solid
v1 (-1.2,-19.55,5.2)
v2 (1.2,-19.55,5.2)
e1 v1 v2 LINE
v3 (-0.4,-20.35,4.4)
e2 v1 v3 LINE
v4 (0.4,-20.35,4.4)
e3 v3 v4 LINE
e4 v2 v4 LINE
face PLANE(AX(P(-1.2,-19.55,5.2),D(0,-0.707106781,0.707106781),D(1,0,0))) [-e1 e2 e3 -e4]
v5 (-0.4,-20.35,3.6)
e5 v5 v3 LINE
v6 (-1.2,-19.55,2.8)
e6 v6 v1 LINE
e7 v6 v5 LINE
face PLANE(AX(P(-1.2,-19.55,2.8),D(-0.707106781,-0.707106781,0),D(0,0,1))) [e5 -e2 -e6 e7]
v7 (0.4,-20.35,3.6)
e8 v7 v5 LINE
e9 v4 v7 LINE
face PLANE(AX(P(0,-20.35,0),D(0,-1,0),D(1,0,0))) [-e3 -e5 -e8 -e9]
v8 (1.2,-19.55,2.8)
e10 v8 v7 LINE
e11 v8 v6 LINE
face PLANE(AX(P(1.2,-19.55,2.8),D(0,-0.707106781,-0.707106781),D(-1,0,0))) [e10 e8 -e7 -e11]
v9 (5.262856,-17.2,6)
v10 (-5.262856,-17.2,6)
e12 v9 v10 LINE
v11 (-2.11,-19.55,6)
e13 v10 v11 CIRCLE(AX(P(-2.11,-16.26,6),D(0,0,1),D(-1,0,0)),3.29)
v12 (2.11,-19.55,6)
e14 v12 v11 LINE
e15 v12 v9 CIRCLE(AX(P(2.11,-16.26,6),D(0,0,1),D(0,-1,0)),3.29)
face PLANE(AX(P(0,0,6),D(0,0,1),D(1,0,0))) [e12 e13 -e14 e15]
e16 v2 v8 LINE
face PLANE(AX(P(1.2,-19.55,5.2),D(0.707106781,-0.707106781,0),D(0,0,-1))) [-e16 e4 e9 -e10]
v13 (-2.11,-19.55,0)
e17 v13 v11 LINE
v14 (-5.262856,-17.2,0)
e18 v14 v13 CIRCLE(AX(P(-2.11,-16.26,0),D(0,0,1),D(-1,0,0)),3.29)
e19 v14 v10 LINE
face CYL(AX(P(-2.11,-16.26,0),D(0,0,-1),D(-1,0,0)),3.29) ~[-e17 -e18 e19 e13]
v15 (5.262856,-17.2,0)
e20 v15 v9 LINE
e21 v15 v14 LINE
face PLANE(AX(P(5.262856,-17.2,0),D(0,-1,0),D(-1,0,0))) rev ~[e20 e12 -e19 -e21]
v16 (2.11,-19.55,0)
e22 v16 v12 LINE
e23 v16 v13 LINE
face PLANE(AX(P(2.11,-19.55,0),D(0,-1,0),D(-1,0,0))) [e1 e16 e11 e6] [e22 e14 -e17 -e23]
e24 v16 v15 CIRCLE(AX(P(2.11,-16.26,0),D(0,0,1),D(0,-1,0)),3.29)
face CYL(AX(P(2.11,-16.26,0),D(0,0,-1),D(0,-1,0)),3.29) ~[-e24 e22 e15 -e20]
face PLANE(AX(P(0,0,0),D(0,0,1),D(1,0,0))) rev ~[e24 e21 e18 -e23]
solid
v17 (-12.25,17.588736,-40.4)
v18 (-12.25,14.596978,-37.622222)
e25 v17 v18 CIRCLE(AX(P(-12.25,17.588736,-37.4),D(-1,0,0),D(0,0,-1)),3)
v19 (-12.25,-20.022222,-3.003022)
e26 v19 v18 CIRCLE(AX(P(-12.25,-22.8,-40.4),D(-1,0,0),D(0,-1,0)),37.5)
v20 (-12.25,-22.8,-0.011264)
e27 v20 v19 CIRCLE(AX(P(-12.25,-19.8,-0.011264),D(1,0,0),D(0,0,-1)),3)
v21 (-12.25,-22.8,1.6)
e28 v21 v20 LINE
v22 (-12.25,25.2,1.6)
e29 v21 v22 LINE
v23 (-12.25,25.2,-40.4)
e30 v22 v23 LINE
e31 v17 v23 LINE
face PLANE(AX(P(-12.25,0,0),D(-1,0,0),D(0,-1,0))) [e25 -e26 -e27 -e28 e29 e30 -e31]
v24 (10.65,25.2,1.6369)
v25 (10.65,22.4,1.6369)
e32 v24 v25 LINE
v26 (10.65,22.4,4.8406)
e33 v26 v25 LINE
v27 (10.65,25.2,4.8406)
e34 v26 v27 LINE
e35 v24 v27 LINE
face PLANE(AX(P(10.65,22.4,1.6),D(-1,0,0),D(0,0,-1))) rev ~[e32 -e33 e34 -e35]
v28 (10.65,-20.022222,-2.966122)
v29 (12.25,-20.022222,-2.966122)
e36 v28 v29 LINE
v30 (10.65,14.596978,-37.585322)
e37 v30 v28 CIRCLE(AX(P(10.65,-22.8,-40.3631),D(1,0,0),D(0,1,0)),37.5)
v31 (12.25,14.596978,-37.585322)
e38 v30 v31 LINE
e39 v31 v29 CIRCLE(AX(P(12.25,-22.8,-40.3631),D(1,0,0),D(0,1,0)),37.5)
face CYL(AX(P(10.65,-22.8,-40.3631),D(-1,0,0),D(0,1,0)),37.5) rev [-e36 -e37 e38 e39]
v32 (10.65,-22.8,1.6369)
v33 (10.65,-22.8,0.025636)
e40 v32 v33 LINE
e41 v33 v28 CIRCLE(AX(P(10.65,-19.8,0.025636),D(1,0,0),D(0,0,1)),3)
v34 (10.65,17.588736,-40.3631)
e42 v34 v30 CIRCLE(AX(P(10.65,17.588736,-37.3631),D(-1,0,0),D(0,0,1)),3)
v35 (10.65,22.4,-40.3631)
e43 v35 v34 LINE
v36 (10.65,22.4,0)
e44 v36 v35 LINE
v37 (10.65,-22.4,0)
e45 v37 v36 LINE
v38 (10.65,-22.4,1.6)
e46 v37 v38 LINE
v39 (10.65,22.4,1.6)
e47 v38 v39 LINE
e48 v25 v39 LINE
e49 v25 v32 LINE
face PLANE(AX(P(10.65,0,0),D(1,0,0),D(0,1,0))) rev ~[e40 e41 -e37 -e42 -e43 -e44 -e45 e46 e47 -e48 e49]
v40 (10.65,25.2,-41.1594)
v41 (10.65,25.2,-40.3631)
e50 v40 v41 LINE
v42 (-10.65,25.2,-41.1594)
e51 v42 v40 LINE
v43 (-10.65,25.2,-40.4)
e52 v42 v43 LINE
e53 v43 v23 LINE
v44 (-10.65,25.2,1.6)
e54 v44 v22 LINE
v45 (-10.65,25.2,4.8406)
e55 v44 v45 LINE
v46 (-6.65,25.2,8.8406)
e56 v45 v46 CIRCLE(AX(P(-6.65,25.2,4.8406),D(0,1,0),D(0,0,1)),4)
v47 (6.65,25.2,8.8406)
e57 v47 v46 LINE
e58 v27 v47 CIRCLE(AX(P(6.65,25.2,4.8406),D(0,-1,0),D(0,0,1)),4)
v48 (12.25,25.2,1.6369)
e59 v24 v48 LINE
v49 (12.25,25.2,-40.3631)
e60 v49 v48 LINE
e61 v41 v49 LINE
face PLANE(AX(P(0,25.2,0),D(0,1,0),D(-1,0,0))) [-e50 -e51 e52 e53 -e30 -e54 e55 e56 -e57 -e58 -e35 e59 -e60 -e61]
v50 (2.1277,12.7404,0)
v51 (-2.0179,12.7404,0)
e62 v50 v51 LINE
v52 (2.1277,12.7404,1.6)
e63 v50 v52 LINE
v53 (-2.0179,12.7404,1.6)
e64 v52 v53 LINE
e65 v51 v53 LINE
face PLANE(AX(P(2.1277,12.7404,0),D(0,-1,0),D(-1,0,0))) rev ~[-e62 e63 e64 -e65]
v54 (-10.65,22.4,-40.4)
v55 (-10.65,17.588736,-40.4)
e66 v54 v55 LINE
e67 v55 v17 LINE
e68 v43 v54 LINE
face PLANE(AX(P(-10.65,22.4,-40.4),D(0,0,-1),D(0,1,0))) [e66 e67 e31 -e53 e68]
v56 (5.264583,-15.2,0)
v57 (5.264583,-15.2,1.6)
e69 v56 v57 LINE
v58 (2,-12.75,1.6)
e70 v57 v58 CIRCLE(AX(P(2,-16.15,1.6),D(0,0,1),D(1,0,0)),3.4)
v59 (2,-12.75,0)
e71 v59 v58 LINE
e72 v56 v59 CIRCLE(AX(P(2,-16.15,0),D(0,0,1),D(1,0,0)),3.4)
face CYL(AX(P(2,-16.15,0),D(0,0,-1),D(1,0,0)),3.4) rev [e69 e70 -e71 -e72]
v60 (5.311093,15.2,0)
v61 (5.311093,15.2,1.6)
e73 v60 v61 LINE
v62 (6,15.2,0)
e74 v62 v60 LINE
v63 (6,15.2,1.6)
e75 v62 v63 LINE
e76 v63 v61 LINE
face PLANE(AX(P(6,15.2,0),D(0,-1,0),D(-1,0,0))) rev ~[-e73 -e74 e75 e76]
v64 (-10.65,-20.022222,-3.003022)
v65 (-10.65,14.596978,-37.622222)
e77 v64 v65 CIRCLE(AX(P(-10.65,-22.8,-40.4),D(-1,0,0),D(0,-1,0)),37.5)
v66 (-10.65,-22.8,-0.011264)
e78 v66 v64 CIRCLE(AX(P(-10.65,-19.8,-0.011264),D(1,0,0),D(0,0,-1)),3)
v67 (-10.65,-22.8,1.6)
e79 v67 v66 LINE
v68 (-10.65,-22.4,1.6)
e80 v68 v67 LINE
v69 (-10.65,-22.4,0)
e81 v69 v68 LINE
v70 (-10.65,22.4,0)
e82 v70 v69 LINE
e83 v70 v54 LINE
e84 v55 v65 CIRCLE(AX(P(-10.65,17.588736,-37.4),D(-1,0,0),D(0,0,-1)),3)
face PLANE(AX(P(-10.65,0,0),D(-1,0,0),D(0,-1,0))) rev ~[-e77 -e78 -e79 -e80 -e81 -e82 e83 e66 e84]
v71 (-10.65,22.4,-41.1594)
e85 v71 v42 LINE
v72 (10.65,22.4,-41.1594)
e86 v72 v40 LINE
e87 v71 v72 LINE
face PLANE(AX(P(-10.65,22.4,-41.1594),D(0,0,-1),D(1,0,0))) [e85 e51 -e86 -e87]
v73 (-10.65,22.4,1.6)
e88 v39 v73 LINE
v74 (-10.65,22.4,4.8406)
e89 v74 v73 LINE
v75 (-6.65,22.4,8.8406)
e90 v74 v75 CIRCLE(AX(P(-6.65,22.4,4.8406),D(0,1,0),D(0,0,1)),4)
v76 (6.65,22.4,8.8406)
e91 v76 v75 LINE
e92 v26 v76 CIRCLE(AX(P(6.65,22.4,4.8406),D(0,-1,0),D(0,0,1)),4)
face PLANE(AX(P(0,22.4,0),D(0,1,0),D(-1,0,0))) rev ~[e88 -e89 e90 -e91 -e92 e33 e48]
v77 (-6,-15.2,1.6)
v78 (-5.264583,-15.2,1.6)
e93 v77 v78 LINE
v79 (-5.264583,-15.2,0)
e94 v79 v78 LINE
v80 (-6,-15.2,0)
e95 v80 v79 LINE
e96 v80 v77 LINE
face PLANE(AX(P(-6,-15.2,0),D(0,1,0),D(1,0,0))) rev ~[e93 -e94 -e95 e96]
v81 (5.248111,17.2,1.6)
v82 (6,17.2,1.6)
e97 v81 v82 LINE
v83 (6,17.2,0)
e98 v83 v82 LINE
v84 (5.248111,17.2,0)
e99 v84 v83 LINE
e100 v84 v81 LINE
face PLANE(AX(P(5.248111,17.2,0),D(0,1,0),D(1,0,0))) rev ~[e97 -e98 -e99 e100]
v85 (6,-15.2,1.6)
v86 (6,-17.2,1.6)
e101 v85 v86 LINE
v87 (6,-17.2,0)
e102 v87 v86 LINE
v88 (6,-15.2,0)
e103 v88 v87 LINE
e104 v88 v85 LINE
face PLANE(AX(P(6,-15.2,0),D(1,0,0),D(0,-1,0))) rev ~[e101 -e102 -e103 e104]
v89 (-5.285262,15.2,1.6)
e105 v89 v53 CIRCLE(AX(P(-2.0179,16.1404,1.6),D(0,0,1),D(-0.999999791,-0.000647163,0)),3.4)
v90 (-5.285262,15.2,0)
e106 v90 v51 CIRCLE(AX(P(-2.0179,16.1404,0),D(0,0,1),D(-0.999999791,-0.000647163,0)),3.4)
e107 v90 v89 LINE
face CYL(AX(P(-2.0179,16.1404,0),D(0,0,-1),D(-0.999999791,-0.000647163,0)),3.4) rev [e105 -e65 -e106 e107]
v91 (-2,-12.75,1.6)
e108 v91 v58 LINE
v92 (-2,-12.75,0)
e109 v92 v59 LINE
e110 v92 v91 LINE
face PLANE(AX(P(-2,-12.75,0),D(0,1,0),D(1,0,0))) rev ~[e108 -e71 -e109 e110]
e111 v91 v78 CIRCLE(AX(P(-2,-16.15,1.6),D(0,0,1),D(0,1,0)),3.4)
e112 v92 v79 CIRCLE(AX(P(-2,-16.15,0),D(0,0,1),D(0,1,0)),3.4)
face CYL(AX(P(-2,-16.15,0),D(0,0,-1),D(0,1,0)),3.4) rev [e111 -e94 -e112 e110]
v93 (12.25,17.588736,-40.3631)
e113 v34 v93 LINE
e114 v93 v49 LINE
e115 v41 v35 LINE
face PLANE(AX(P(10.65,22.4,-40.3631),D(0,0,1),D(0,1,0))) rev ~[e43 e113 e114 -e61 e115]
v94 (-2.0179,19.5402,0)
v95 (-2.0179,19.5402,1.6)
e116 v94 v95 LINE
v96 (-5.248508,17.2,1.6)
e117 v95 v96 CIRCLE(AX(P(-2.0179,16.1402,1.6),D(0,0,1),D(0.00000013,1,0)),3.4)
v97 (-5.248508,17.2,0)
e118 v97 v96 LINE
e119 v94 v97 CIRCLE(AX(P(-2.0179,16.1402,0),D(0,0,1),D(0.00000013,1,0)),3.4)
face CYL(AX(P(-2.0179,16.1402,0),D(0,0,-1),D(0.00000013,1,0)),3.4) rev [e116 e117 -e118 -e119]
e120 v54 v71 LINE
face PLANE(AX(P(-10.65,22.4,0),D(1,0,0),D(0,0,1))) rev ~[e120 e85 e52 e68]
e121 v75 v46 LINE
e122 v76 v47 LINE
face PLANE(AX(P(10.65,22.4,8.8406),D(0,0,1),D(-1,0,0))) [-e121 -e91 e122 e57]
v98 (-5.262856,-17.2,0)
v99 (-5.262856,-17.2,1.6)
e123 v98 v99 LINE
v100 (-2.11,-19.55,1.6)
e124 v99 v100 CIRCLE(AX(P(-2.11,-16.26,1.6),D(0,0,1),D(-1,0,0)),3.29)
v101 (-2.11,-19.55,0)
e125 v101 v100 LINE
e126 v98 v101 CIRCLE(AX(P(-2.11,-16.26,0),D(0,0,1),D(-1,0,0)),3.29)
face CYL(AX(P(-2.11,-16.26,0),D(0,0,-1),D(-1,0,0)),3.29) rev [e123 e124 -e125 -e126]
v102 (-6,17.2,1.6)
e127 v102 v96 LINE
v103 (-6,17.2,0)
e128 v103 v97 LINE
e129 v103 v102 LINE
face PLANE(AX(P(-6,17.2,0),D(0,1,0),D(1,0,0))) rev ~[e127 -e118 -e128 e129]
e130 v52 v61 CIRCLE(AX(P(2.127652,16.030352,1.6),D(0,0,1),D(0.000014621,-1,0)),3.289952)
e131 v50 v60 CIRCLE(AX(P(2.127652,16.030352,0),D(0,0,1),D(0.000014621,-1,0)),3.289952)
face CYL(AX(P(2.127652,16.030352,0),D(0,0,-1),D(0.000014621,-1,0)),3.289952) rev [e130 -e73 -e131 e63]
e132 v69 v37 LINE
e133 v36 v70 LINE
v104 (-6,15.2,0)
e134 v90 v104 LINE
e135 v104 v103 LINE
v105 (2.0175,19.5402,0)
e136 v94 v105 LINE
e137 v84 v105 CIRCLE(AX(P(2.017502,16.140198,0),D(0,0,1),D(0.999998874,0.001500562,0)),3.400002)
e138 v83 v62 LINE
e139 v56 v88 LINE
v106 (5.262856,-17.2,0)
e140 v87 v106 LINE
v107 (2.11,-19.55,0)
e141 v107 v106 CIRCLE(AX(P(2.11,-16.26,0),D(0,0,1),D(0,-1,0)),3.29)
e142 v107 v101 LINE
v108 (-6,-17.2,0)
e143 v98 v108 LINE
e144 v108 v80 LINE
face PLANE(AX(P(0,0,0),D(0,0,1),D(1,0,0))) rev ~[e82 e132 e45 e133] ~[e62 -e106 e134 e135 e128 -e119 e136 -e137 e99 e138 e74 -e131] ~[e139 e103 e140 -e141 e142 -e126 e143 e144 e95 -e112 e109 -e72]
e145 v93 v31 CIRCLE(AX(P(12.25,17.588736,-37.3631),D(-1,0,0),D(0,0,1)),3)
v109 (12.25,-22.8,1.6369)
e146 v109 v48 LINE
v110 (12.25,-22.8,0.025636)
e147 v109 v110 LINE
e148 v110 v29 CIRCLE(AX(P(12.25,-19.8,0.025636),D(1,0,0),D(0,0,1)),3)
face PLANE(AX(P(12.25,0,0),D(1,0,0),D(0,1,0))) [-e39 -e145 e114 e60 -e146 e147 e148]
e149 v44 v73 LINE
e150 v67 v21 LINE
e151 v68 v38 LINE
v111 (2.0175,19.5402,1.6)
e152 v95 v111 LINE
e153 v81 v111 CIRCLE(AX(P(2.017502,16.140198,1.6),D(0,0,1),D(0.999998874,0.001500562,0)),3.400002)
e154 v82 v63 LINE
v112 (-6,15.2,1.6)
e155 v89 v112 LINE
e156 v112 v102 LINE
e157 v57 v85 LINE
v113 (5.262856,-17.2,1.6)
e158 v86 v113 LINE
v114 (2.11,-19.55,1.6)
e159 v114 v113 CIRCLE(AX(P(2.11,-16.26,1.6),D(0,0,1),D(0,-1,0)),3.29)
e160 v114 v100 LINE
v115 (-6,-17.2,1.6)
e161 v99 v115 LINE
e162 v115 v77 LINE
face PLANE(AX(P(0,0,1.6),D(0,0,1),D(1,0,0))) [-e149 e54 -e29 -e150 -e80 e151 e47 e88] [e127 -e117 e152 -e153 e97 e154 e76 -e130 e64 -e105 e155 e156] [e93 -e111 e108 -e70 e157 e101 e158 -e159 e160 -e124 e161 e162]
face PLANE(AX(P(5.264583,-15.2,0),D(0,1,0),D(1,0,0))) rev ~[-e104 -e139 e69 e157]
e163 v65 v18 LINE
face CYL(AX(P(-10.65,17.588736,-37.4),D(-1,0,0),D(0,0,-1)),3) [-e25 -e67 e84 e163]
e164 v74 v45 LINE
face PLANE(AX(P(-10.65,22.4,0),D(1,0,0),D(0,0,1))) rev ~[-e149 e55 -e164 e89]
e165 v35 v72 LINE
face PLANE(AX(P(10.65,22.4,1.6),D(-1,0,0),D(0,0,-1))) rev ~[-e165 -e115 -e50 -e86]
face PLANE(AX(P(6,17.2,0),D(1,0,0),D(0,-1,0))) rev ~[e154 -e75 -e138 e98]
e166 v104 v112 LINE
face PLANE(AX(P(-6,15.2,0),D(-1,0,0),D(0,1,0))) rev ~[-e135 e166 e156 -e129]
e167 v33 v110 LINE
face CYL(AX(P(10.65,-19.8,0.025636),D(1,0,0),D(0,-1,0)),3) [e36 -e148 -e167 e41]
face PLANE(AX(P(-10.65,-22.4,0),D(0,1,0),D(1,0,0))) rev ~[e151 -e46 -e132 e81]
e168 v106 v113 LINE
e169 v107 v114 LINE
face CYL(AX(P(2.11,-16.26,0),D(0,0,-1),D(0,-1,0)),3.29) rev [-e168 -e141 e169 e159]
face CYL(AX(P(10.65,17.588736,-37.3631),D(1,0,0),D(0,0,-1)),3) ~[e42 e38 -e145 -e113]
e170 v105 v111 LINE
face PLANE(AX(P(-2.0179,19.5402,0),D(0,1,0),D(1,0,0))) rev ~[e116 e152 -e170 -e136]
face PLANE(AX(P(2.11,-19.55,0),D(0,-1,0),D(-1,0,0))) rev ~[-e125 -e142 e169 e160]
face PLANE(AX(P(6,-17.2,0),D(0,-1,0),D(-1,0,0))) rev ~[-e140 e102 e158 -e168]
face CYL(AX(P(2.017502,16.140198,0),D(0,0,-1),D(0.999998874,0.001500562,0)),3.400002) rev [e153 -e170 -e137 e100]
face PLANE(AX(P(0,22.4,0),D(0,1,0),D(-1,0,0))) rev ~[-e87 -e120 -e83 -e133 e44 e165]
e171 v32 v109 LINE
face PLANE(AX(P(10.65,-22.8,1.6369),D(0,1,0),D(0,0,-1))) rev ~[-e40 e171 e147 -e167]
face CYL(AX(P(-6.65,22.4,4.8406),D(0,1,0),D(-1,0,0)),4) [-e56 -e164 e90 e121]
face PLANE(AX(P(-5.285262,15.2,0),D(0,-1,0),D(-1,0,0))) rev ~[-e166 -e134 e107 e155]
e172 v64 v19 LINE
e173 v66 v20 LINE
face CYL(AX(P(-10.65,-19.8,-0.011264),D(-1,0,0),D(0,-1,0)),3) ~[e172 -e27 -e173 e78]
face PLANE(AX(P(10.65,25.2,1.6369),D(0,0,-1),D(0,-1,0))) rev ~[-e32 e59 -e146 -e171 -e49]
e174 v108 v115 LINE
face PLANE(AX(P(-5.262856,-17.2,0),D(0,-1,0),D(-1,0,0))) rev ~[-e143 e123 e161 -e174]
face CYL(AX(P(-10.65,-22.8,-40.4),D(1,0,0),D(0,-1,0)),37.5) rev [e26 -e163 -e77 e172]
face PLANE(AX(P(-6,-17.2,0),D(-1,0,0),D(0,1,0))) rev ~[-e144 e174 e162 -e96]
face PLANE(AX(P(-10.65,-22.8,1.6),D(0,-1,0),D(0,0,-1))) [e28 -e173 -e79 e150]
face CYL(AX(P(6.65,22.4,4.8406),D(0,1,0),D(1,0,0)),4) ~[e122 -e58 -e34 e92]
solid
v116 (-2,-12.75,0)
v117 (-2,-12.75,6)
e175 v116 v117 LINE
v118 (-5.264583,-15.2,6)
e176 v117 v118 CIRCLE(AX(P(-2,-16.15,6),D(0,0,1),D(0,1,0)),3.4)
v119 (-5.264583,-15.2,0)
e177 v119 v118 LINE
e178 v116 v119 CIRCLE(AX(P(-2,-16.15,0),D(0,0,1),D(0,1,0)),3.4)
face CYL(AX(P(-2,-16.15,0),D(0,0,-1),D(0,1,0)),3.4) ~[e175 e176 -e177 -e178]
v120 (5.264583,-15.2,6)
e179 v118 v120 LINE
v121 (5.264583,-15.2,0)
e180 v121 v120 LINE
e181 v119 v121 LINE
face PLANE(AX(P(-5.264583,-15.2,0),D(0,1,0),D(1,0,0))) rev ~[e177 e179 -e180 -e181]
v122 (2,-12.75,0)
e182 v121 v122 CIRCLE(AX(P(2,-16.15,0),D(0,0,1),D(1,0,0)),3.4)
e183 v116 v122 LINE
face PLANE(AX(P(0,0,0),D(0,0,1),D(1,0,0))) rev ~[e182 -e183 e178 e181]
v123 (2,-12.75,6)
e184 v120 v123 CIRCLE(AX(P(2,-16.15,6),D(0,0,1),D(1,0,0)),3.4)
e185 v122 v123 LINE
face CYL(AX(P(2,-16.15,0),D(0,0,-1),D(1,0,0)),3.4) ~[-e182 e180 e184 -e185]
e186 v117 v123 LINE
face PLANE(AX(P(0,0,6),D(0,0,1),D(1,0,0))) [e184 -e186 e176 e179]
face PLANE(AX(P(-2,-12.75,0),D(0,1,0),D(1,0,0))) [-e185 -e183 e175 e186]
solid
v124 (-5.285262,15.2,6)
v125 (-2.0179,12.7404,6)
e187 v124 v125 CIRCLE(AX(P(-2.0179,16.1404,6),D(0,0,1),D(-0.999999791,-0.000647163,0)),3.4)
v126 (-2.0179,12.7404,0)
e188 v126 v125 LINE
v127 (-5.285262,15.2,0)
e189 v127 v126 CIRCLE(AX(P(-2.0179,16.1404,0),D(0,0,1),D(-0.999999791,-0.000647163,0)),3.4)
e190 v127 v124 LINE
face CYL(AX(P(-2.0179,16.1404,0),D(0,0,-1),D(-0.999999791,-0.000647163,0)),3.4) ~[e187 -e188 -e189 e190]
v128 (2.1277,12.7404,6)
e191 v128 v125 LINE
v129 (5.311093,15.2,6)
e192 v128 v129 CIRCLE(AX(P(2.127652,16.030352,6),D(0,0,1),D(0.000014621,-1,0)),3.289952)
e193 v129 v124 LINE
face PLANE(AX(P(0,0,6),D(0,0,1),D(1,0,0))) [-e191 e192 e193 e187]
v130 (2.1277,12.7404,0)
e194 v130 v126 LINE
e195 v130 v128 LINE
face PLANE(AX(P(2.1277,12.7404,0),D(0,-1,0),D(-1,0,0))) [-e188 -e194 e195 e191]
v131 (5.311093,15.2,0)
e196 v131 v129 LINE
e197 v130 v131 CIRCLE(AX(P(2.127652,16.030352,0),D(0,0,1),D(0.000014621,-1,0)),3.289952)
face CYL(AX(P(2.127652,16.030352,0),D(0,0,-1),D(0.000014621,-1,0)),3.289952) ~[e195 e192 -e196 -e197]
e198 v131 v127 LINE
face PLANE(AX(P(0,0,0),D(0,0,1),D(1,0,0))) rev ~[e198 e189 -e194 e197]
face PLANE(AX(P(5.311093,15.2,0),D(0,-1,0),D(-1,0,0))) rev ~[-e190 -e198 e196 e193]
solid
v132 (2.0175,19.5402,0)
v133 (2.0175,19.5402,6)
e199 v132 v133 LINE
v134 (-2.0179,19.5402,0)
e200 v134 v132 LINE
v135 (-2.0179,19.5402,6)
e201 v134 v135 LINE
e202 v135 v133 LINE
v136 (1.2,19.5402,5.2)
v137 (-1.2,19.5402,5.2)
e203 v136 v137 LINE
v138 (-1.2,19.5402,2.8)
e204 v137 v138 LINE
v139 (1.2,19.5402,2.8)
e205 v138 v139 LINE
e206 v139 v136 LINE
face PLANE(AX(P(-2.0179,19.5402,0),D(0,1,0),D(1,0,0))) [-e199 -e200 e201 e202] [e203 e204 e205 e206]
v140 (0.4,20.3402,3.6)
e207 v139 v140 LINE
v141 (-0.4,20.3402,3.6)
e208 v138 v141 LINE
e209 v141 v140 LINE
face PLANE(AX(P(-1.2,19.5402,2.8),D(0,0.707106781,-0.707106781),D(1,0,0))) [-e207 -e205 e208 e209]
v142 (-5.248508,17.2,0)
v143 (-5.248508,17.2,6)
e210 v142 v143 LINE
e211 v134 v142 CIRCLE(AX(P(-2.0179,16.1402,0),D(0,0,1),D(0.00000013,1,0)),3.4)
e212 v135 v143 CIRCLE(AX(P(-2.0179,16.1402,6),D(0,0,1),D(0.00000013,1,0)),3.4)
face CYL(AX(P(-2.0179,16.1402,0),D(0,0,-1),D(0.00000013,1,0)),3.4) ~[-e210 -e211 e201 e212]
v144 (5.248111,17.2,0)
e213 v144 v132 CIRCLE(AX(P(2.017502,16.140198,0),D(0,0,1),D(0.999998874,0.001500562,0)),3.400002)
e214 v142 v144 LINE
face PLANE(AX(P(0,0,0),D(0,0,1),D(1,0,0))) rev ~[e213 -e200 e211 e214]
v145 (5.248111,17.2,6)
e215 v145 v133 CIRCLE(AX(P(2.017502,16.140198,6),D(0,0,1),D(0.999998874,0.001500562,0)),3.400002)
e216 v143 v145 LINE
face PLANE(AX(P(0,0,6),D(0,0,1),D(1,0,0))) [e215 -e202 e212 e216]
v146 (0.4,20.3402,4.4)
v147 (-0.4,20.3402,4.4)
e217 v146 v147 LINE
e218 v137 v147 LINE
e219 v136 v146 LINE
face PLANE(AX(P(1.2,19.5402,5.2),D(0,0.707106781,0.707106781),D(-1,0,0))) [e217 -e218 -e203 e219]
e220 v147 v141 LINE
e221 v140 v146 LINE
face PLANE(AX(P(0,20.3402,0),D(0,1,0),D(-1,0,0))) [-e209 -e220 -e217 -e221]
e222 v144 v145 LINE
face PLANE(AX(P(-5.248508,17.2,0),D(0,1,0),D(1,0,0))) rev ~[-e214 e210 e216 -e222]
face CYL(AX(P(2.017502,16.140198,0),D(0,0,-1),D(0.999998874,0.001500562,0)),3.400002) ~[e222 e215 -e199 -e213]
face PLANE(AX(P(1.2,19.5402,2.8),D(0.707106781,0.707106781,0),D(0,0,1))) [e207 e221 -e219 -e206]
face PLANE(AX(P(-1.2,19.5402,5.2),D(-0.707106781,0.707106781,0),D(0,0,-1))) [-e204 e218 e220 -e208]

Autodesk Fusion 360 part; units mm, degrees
sketch "Sketch1" plane through (0, 0, 0) normal (0, 0, 1) x (1, 0, 0)
  line L0 (10.65, 22.4) -> (-10.65, 22.4)
  line L1 (-10.65, 22.4) -> (-10.65, -22.4)
  line L2 (-10.65, -22.4) -> (10.65, -22.4)
  line L3 (10.65, -22.4) -> (10.65, 22.4)
  line L4 (10.65, 22.4) -> (-10.65, -22.4) construction
  line L5 (-10.65, 22.4) -> (10.65, -22.4) construction
  line L6 (2.11, -19.55) -> (-2.11, -19.55)
  line L7 (-5.4, -16.26) -> (-5.4, -16.15)
  line L8 (-2, -12.75) -> (2, -12.75)
  line L9 (5.4, -16.15) -> (5.4, -16.26)
  line L10 (5.4, -19.55) -> (-5.4, -12.75) construction
  line L11 (-5.4, -19.55) -> (5.4, -12.75) construction
  line L12 (2.1277, 12.7404) -> (-2.0179, 12.7404)
  line L13 (-5.4179, 16.1382) -> (-5.4179, 16.138)
  line L14 (-2.0179, 19.5402) -> (2.0175, 19.5402)
  line L15 (5.4175, 16.1453) -> (5.4176, 16.0353)
  line L16 (5.4226, 12.7404) -> (-5.3876, 19.5402) construction
  line L17 (-5.439, 12.7404) -> (5.4124, 19.5402) construction
  arc A0 (-2.0179, 19.5402) -> (-5.4179, 16.138) centre (-2.0179, 16.1402) ccw
  arc A1 (-5.4179, 16.1382) -> (-2.0179, 12.7404) centre (-2.0179, 16.1404) ccw
  arc A2 (5.4175, 16.1453) -> (2.0175, 19.5402) centre (2.0175, 16.1402) ccw
  arc A3 (2.1277, 12.7404) -> (5.4176, 16.0353) centre (2.1277, 16.0304) ccw
  arc A4 (-2, -12.75) -> (-5.4, -16.15) centre (-2, -16.15) ccw
  arc A5 (5.4, -16.15) -> (2, -12.75) centre (2, -16.15) ccw
  arc A6 (-5.4, -16.26) -> (-2.11, -19.55) centre (-2.11, -16.26) ccw
  arc A7 (2.11, -19.55) -> (5.4, -16.26) centre (2.11, -16.26) ccw
  line L18 (6, 15.2) -> (-6, 15.2)
  line L19 (-6, 15.2) -> (-6, 17.2)
  line L20 (-6, 17.2) -> (6, 17.2)
  line L21 (6, 17.2) -> (6, 15.2)
  line L22 (6, 15.2) -> (-6, 17.2) construction
  line L23 (-6, 15.2) -> (6, 17.2) construction
  line L24 (6, -17.2) -> (-6, -17.2)
  line L25 (-6, -17.2) -> (-6, -15.2)
  line L26 (-6, -15.2) -> (6, -15.2)
  line L27 (6, -15.2) -> (6, -17.2)
  line L28 (6, -17.2) -> (-6, -15.2) construction
  line L29 (-6, -17.2) -> (6, -15.2) construction
  point P0 (0, -16.15)
  point P1 (0.0021, 16.15)
  point P2 (0, 16.2)
  point P3 (0, -16.2)
  dimension "d1" = 21.3
  dimension "d2" = 44.8
  dimension "d3" = 10.8
  dimension "d4" = 6.8
  dimension "d5" = 6.25
  dimension "d6" = 10.8
  dimension "d7" = 6.8
  dimension "d8" = 6.25
  dimension "d9" = 3.4
  dimension "d10" = 3.4
  dimension "d11" = 3.4
  dimension "d12" = 3.29
  dimension "d13" = 3.4
  dimension "d14" = 3.4
  dimension "d15" = 3.29
  dimension "d16" = 3.29
  dimension "d17" = 2
  dimension "d18" = 2
extrude "Extrude2" add sketch "Sketch1" along normal blind 6 contours L6 A6 A7 L24 | L8 A4 A5 L26 | L12 A1 A3 L18 | L14 A0 A2 L20 makes body 1 at (-1.7496, 17.2, 2) makes body 2 at (-1.7549, -15.2, 2) makes body 3 at (1.779, 15.2, 2) makes body 4 at (-1.7543, -17.2, 4)
extrude "Extrude1" add sketch "Sketch1" along normal blind 1.6 separate body makes body 5
sketch "Sketch2" plane through (0, -19.55, 0) normal (0, -1, 0) x (1, 0, 0)
  line L0 (-2.11, 0) -> (2.11, 0)
  line L1 (2.11, 0) -> (2.11, 6)
  line L2 (2.11, 6) -> (-2.11, 6)
  line L3 (-2.11, 6) -> (-2.11, 0)
  line L4 (1.2, 2.8) -> (-1.2, 2.8)
  line L5 (-1.2, 2.8) -> (-1.2, 5.2)
  line L6 (-1.2, 5.2) -> (1.2, 5.2)
  line L7 (1.2, 5.2) -> (1.2, 2.8)
  line L8 (1.2, 2.8) -> (-1.2, 5.2) construction
  line L9 (-1.2, 2.8) -> (1.2, 5.2) construction
  point P0 (0, 4)
  dimension "d23" = 2.4
  dimension "d24" = 2.4
extrude "Extrude3" add sketch "Sketch2" along normal blind 0.8 draft -45 contours L4 L5 L6 L7 bodies 4
sketch "Sketch3" plane through (0, 19.5402, 0) normal (0, 1, 0) x (-1, 0, 0)
  line L0 (-2.0175, 0) -> (2.0179, 0)
  line L1 (2.0179, 0) -> (2.0179, 6)
  line L2 (2.0179, 6) -> (-2.0175, 6)
  line L3 (-2.0175, 6) -> (-2.0175, 0)
  line L4 (1.2, 2.8) -> (-1.2, 2.8)
  line L5 (-1.2, 2.8) -> (-1.2, 5.2)
  line L6 (-1.2, 5.2) -> (1.2, 5.2)
  line L7 (1.2, 5.2) -> (1.2, 2.8)
  line L8 (1.2, 2.8) -> (-1.2, 5.2) construction
  line L9 (-1.2, 2.8) -> (1.2, 5.2) construction
  point P0 (0, 4)
  dimension "d27" = 2.4
  dimension "d28" = 2.4
extrude "Extrude4" add sketch "Sketch3" along normal blind 0.8 draft -45 contours L4 L5 L6 L7 bodies 1
sketch "Sketch4" plane through (0, 22.4, 0) normal (0, 1, 0) x (-1, 0, 0)
  line L0 (-10.65, 0) -> (10.65, 0)
  line L1 (10.65, 0) -> (10.65, 1.6)
  line L2 (10.65, 1.6) -> (-10.65, 1.6)
  line L3 (-10.65, 1.6) -> (-10.65, 0)
  line L4 (-10.65, 8.8406) -> (10.65, 8.8406)
  line L5 (10.65, 8.8406) -> (10.65, -41.1594)
  line L6 (10.65, -41.1594) -> (-10.65, -41.1594)
  line L7 (-10.65, -41.1594) -> (-10.65, 8.8406)
  dimension "d31" = 21.3
  dimension "d32" = 50
extrude "Extrude5" add sketch "Sketch4" along normal blind 2.8 bodies 5
sketch "Sketch5" plane through (-10.65, 0, 0) normal (-1, 0, 0) x (0, -1, 0)
  line L0 (-22.4, 0) -> (22.4, 0)
  line L1 (22.4, 0) -> (22.4, 1.6)
  line L2 (22.4, 1.6) -> (-22.4, 1.6)
  line L3 (-22.4, 1.6) -> (-22.4, 8.8406)
  line L4 (-22.4, 8.8406) -> (-25.2, 8.8406)
  line L5 (-25.2, 8.8406) -> (-25.2, -41.1594)
  line L6 (-25.2, -41.1594) -> (-22.4, -41.1594)
  line L7 (-22.4, -41.1594) -> (-22.4, 0)
  line L8 (-25.2, 1.6) -> (22.8, 1.6)
  line L9 (22.8, 1.6) -> (22.8, -40.4)
  line L10 (22.8, -40.4) -> (-25.2, -40.4)
  line L11 (-25.2, -40.4) -> (-25.2, 1.6)
  circle A0 centre (22.8, -40.4) radius 37.5
  dimension "d35" = 48
  dimension "d36" = 42
  dimension "d37" = 75
extrude "Extrude6" add sketch "Sketch5" along normal blind 1.6 contours L0 L1 L2 L5 L7 L8 L10 L11 | L0 L1 L7 L8 L9 L10 A0 bodies 5
sketch "Sketch6" plane through (10.65, 0, 0) normal (1, 0, 0) x (0, 1, 0)
  line L0 (-22.4, 0) -> (22.4, 0)
  line L1 (22.4, 0) -> (22.4, -41.1594)
  line L2 (22.4, -41.1594) -> (25.2, -41.1594)
  line L3 (25.2, -41.1594) -> (25.2, 8.8406)
  line L4 (25.2, 8.8406) -> (22.4, 8.8406)
  line L5 (22.4, 8.8406) -> (22.4, 1.6)
  line L6 (22.4, 1.6) -> (-22.4, 1.6)
  line L7 (-22.4, 1.6) -> (-22.4, 0)
  line L8 (25.2, 1.6369) -> (-22.8, 1.6369)
  line L9 (-22.8, 1.6369) -> (-22.8, -40.3631)
  line L10 (-22.8, -40.3631) -> (25.2, -40.3631)
  line L11 (25.2, -40.3631) -> (25.2, 1.6369)
  circle A0 centre (-22.8, -40.3631) radius 37.5
  dimension "d40" = 48
  dimension "d41" = 42
  dimension "d42" = 75
extrude "Extrude7" add sketch "Sketch6" along normal blind 1.6 contours L0 L1 L3 L5 L6 L7 L8 L10 L11 | L0 L1 L5 L6 L7 L8 L9 L10 A0 bodies 5
fillet "Fillet1" radius 3 2 edges at (-11.45, 14.7, -40.4) (-11.45, -22.8, -2.9) on bodies 5
fillet "Fillet2" radius 3 2 edges at (11.45, 14.7, -40.3631) (11.45, -22.8, -2.8631) on bodies 5
fillet "Fillet3" radius 4 2 edges at (10.65, 23.8, 8.8406) (-10.65, 23.8, 8.8406) on bodies 5
